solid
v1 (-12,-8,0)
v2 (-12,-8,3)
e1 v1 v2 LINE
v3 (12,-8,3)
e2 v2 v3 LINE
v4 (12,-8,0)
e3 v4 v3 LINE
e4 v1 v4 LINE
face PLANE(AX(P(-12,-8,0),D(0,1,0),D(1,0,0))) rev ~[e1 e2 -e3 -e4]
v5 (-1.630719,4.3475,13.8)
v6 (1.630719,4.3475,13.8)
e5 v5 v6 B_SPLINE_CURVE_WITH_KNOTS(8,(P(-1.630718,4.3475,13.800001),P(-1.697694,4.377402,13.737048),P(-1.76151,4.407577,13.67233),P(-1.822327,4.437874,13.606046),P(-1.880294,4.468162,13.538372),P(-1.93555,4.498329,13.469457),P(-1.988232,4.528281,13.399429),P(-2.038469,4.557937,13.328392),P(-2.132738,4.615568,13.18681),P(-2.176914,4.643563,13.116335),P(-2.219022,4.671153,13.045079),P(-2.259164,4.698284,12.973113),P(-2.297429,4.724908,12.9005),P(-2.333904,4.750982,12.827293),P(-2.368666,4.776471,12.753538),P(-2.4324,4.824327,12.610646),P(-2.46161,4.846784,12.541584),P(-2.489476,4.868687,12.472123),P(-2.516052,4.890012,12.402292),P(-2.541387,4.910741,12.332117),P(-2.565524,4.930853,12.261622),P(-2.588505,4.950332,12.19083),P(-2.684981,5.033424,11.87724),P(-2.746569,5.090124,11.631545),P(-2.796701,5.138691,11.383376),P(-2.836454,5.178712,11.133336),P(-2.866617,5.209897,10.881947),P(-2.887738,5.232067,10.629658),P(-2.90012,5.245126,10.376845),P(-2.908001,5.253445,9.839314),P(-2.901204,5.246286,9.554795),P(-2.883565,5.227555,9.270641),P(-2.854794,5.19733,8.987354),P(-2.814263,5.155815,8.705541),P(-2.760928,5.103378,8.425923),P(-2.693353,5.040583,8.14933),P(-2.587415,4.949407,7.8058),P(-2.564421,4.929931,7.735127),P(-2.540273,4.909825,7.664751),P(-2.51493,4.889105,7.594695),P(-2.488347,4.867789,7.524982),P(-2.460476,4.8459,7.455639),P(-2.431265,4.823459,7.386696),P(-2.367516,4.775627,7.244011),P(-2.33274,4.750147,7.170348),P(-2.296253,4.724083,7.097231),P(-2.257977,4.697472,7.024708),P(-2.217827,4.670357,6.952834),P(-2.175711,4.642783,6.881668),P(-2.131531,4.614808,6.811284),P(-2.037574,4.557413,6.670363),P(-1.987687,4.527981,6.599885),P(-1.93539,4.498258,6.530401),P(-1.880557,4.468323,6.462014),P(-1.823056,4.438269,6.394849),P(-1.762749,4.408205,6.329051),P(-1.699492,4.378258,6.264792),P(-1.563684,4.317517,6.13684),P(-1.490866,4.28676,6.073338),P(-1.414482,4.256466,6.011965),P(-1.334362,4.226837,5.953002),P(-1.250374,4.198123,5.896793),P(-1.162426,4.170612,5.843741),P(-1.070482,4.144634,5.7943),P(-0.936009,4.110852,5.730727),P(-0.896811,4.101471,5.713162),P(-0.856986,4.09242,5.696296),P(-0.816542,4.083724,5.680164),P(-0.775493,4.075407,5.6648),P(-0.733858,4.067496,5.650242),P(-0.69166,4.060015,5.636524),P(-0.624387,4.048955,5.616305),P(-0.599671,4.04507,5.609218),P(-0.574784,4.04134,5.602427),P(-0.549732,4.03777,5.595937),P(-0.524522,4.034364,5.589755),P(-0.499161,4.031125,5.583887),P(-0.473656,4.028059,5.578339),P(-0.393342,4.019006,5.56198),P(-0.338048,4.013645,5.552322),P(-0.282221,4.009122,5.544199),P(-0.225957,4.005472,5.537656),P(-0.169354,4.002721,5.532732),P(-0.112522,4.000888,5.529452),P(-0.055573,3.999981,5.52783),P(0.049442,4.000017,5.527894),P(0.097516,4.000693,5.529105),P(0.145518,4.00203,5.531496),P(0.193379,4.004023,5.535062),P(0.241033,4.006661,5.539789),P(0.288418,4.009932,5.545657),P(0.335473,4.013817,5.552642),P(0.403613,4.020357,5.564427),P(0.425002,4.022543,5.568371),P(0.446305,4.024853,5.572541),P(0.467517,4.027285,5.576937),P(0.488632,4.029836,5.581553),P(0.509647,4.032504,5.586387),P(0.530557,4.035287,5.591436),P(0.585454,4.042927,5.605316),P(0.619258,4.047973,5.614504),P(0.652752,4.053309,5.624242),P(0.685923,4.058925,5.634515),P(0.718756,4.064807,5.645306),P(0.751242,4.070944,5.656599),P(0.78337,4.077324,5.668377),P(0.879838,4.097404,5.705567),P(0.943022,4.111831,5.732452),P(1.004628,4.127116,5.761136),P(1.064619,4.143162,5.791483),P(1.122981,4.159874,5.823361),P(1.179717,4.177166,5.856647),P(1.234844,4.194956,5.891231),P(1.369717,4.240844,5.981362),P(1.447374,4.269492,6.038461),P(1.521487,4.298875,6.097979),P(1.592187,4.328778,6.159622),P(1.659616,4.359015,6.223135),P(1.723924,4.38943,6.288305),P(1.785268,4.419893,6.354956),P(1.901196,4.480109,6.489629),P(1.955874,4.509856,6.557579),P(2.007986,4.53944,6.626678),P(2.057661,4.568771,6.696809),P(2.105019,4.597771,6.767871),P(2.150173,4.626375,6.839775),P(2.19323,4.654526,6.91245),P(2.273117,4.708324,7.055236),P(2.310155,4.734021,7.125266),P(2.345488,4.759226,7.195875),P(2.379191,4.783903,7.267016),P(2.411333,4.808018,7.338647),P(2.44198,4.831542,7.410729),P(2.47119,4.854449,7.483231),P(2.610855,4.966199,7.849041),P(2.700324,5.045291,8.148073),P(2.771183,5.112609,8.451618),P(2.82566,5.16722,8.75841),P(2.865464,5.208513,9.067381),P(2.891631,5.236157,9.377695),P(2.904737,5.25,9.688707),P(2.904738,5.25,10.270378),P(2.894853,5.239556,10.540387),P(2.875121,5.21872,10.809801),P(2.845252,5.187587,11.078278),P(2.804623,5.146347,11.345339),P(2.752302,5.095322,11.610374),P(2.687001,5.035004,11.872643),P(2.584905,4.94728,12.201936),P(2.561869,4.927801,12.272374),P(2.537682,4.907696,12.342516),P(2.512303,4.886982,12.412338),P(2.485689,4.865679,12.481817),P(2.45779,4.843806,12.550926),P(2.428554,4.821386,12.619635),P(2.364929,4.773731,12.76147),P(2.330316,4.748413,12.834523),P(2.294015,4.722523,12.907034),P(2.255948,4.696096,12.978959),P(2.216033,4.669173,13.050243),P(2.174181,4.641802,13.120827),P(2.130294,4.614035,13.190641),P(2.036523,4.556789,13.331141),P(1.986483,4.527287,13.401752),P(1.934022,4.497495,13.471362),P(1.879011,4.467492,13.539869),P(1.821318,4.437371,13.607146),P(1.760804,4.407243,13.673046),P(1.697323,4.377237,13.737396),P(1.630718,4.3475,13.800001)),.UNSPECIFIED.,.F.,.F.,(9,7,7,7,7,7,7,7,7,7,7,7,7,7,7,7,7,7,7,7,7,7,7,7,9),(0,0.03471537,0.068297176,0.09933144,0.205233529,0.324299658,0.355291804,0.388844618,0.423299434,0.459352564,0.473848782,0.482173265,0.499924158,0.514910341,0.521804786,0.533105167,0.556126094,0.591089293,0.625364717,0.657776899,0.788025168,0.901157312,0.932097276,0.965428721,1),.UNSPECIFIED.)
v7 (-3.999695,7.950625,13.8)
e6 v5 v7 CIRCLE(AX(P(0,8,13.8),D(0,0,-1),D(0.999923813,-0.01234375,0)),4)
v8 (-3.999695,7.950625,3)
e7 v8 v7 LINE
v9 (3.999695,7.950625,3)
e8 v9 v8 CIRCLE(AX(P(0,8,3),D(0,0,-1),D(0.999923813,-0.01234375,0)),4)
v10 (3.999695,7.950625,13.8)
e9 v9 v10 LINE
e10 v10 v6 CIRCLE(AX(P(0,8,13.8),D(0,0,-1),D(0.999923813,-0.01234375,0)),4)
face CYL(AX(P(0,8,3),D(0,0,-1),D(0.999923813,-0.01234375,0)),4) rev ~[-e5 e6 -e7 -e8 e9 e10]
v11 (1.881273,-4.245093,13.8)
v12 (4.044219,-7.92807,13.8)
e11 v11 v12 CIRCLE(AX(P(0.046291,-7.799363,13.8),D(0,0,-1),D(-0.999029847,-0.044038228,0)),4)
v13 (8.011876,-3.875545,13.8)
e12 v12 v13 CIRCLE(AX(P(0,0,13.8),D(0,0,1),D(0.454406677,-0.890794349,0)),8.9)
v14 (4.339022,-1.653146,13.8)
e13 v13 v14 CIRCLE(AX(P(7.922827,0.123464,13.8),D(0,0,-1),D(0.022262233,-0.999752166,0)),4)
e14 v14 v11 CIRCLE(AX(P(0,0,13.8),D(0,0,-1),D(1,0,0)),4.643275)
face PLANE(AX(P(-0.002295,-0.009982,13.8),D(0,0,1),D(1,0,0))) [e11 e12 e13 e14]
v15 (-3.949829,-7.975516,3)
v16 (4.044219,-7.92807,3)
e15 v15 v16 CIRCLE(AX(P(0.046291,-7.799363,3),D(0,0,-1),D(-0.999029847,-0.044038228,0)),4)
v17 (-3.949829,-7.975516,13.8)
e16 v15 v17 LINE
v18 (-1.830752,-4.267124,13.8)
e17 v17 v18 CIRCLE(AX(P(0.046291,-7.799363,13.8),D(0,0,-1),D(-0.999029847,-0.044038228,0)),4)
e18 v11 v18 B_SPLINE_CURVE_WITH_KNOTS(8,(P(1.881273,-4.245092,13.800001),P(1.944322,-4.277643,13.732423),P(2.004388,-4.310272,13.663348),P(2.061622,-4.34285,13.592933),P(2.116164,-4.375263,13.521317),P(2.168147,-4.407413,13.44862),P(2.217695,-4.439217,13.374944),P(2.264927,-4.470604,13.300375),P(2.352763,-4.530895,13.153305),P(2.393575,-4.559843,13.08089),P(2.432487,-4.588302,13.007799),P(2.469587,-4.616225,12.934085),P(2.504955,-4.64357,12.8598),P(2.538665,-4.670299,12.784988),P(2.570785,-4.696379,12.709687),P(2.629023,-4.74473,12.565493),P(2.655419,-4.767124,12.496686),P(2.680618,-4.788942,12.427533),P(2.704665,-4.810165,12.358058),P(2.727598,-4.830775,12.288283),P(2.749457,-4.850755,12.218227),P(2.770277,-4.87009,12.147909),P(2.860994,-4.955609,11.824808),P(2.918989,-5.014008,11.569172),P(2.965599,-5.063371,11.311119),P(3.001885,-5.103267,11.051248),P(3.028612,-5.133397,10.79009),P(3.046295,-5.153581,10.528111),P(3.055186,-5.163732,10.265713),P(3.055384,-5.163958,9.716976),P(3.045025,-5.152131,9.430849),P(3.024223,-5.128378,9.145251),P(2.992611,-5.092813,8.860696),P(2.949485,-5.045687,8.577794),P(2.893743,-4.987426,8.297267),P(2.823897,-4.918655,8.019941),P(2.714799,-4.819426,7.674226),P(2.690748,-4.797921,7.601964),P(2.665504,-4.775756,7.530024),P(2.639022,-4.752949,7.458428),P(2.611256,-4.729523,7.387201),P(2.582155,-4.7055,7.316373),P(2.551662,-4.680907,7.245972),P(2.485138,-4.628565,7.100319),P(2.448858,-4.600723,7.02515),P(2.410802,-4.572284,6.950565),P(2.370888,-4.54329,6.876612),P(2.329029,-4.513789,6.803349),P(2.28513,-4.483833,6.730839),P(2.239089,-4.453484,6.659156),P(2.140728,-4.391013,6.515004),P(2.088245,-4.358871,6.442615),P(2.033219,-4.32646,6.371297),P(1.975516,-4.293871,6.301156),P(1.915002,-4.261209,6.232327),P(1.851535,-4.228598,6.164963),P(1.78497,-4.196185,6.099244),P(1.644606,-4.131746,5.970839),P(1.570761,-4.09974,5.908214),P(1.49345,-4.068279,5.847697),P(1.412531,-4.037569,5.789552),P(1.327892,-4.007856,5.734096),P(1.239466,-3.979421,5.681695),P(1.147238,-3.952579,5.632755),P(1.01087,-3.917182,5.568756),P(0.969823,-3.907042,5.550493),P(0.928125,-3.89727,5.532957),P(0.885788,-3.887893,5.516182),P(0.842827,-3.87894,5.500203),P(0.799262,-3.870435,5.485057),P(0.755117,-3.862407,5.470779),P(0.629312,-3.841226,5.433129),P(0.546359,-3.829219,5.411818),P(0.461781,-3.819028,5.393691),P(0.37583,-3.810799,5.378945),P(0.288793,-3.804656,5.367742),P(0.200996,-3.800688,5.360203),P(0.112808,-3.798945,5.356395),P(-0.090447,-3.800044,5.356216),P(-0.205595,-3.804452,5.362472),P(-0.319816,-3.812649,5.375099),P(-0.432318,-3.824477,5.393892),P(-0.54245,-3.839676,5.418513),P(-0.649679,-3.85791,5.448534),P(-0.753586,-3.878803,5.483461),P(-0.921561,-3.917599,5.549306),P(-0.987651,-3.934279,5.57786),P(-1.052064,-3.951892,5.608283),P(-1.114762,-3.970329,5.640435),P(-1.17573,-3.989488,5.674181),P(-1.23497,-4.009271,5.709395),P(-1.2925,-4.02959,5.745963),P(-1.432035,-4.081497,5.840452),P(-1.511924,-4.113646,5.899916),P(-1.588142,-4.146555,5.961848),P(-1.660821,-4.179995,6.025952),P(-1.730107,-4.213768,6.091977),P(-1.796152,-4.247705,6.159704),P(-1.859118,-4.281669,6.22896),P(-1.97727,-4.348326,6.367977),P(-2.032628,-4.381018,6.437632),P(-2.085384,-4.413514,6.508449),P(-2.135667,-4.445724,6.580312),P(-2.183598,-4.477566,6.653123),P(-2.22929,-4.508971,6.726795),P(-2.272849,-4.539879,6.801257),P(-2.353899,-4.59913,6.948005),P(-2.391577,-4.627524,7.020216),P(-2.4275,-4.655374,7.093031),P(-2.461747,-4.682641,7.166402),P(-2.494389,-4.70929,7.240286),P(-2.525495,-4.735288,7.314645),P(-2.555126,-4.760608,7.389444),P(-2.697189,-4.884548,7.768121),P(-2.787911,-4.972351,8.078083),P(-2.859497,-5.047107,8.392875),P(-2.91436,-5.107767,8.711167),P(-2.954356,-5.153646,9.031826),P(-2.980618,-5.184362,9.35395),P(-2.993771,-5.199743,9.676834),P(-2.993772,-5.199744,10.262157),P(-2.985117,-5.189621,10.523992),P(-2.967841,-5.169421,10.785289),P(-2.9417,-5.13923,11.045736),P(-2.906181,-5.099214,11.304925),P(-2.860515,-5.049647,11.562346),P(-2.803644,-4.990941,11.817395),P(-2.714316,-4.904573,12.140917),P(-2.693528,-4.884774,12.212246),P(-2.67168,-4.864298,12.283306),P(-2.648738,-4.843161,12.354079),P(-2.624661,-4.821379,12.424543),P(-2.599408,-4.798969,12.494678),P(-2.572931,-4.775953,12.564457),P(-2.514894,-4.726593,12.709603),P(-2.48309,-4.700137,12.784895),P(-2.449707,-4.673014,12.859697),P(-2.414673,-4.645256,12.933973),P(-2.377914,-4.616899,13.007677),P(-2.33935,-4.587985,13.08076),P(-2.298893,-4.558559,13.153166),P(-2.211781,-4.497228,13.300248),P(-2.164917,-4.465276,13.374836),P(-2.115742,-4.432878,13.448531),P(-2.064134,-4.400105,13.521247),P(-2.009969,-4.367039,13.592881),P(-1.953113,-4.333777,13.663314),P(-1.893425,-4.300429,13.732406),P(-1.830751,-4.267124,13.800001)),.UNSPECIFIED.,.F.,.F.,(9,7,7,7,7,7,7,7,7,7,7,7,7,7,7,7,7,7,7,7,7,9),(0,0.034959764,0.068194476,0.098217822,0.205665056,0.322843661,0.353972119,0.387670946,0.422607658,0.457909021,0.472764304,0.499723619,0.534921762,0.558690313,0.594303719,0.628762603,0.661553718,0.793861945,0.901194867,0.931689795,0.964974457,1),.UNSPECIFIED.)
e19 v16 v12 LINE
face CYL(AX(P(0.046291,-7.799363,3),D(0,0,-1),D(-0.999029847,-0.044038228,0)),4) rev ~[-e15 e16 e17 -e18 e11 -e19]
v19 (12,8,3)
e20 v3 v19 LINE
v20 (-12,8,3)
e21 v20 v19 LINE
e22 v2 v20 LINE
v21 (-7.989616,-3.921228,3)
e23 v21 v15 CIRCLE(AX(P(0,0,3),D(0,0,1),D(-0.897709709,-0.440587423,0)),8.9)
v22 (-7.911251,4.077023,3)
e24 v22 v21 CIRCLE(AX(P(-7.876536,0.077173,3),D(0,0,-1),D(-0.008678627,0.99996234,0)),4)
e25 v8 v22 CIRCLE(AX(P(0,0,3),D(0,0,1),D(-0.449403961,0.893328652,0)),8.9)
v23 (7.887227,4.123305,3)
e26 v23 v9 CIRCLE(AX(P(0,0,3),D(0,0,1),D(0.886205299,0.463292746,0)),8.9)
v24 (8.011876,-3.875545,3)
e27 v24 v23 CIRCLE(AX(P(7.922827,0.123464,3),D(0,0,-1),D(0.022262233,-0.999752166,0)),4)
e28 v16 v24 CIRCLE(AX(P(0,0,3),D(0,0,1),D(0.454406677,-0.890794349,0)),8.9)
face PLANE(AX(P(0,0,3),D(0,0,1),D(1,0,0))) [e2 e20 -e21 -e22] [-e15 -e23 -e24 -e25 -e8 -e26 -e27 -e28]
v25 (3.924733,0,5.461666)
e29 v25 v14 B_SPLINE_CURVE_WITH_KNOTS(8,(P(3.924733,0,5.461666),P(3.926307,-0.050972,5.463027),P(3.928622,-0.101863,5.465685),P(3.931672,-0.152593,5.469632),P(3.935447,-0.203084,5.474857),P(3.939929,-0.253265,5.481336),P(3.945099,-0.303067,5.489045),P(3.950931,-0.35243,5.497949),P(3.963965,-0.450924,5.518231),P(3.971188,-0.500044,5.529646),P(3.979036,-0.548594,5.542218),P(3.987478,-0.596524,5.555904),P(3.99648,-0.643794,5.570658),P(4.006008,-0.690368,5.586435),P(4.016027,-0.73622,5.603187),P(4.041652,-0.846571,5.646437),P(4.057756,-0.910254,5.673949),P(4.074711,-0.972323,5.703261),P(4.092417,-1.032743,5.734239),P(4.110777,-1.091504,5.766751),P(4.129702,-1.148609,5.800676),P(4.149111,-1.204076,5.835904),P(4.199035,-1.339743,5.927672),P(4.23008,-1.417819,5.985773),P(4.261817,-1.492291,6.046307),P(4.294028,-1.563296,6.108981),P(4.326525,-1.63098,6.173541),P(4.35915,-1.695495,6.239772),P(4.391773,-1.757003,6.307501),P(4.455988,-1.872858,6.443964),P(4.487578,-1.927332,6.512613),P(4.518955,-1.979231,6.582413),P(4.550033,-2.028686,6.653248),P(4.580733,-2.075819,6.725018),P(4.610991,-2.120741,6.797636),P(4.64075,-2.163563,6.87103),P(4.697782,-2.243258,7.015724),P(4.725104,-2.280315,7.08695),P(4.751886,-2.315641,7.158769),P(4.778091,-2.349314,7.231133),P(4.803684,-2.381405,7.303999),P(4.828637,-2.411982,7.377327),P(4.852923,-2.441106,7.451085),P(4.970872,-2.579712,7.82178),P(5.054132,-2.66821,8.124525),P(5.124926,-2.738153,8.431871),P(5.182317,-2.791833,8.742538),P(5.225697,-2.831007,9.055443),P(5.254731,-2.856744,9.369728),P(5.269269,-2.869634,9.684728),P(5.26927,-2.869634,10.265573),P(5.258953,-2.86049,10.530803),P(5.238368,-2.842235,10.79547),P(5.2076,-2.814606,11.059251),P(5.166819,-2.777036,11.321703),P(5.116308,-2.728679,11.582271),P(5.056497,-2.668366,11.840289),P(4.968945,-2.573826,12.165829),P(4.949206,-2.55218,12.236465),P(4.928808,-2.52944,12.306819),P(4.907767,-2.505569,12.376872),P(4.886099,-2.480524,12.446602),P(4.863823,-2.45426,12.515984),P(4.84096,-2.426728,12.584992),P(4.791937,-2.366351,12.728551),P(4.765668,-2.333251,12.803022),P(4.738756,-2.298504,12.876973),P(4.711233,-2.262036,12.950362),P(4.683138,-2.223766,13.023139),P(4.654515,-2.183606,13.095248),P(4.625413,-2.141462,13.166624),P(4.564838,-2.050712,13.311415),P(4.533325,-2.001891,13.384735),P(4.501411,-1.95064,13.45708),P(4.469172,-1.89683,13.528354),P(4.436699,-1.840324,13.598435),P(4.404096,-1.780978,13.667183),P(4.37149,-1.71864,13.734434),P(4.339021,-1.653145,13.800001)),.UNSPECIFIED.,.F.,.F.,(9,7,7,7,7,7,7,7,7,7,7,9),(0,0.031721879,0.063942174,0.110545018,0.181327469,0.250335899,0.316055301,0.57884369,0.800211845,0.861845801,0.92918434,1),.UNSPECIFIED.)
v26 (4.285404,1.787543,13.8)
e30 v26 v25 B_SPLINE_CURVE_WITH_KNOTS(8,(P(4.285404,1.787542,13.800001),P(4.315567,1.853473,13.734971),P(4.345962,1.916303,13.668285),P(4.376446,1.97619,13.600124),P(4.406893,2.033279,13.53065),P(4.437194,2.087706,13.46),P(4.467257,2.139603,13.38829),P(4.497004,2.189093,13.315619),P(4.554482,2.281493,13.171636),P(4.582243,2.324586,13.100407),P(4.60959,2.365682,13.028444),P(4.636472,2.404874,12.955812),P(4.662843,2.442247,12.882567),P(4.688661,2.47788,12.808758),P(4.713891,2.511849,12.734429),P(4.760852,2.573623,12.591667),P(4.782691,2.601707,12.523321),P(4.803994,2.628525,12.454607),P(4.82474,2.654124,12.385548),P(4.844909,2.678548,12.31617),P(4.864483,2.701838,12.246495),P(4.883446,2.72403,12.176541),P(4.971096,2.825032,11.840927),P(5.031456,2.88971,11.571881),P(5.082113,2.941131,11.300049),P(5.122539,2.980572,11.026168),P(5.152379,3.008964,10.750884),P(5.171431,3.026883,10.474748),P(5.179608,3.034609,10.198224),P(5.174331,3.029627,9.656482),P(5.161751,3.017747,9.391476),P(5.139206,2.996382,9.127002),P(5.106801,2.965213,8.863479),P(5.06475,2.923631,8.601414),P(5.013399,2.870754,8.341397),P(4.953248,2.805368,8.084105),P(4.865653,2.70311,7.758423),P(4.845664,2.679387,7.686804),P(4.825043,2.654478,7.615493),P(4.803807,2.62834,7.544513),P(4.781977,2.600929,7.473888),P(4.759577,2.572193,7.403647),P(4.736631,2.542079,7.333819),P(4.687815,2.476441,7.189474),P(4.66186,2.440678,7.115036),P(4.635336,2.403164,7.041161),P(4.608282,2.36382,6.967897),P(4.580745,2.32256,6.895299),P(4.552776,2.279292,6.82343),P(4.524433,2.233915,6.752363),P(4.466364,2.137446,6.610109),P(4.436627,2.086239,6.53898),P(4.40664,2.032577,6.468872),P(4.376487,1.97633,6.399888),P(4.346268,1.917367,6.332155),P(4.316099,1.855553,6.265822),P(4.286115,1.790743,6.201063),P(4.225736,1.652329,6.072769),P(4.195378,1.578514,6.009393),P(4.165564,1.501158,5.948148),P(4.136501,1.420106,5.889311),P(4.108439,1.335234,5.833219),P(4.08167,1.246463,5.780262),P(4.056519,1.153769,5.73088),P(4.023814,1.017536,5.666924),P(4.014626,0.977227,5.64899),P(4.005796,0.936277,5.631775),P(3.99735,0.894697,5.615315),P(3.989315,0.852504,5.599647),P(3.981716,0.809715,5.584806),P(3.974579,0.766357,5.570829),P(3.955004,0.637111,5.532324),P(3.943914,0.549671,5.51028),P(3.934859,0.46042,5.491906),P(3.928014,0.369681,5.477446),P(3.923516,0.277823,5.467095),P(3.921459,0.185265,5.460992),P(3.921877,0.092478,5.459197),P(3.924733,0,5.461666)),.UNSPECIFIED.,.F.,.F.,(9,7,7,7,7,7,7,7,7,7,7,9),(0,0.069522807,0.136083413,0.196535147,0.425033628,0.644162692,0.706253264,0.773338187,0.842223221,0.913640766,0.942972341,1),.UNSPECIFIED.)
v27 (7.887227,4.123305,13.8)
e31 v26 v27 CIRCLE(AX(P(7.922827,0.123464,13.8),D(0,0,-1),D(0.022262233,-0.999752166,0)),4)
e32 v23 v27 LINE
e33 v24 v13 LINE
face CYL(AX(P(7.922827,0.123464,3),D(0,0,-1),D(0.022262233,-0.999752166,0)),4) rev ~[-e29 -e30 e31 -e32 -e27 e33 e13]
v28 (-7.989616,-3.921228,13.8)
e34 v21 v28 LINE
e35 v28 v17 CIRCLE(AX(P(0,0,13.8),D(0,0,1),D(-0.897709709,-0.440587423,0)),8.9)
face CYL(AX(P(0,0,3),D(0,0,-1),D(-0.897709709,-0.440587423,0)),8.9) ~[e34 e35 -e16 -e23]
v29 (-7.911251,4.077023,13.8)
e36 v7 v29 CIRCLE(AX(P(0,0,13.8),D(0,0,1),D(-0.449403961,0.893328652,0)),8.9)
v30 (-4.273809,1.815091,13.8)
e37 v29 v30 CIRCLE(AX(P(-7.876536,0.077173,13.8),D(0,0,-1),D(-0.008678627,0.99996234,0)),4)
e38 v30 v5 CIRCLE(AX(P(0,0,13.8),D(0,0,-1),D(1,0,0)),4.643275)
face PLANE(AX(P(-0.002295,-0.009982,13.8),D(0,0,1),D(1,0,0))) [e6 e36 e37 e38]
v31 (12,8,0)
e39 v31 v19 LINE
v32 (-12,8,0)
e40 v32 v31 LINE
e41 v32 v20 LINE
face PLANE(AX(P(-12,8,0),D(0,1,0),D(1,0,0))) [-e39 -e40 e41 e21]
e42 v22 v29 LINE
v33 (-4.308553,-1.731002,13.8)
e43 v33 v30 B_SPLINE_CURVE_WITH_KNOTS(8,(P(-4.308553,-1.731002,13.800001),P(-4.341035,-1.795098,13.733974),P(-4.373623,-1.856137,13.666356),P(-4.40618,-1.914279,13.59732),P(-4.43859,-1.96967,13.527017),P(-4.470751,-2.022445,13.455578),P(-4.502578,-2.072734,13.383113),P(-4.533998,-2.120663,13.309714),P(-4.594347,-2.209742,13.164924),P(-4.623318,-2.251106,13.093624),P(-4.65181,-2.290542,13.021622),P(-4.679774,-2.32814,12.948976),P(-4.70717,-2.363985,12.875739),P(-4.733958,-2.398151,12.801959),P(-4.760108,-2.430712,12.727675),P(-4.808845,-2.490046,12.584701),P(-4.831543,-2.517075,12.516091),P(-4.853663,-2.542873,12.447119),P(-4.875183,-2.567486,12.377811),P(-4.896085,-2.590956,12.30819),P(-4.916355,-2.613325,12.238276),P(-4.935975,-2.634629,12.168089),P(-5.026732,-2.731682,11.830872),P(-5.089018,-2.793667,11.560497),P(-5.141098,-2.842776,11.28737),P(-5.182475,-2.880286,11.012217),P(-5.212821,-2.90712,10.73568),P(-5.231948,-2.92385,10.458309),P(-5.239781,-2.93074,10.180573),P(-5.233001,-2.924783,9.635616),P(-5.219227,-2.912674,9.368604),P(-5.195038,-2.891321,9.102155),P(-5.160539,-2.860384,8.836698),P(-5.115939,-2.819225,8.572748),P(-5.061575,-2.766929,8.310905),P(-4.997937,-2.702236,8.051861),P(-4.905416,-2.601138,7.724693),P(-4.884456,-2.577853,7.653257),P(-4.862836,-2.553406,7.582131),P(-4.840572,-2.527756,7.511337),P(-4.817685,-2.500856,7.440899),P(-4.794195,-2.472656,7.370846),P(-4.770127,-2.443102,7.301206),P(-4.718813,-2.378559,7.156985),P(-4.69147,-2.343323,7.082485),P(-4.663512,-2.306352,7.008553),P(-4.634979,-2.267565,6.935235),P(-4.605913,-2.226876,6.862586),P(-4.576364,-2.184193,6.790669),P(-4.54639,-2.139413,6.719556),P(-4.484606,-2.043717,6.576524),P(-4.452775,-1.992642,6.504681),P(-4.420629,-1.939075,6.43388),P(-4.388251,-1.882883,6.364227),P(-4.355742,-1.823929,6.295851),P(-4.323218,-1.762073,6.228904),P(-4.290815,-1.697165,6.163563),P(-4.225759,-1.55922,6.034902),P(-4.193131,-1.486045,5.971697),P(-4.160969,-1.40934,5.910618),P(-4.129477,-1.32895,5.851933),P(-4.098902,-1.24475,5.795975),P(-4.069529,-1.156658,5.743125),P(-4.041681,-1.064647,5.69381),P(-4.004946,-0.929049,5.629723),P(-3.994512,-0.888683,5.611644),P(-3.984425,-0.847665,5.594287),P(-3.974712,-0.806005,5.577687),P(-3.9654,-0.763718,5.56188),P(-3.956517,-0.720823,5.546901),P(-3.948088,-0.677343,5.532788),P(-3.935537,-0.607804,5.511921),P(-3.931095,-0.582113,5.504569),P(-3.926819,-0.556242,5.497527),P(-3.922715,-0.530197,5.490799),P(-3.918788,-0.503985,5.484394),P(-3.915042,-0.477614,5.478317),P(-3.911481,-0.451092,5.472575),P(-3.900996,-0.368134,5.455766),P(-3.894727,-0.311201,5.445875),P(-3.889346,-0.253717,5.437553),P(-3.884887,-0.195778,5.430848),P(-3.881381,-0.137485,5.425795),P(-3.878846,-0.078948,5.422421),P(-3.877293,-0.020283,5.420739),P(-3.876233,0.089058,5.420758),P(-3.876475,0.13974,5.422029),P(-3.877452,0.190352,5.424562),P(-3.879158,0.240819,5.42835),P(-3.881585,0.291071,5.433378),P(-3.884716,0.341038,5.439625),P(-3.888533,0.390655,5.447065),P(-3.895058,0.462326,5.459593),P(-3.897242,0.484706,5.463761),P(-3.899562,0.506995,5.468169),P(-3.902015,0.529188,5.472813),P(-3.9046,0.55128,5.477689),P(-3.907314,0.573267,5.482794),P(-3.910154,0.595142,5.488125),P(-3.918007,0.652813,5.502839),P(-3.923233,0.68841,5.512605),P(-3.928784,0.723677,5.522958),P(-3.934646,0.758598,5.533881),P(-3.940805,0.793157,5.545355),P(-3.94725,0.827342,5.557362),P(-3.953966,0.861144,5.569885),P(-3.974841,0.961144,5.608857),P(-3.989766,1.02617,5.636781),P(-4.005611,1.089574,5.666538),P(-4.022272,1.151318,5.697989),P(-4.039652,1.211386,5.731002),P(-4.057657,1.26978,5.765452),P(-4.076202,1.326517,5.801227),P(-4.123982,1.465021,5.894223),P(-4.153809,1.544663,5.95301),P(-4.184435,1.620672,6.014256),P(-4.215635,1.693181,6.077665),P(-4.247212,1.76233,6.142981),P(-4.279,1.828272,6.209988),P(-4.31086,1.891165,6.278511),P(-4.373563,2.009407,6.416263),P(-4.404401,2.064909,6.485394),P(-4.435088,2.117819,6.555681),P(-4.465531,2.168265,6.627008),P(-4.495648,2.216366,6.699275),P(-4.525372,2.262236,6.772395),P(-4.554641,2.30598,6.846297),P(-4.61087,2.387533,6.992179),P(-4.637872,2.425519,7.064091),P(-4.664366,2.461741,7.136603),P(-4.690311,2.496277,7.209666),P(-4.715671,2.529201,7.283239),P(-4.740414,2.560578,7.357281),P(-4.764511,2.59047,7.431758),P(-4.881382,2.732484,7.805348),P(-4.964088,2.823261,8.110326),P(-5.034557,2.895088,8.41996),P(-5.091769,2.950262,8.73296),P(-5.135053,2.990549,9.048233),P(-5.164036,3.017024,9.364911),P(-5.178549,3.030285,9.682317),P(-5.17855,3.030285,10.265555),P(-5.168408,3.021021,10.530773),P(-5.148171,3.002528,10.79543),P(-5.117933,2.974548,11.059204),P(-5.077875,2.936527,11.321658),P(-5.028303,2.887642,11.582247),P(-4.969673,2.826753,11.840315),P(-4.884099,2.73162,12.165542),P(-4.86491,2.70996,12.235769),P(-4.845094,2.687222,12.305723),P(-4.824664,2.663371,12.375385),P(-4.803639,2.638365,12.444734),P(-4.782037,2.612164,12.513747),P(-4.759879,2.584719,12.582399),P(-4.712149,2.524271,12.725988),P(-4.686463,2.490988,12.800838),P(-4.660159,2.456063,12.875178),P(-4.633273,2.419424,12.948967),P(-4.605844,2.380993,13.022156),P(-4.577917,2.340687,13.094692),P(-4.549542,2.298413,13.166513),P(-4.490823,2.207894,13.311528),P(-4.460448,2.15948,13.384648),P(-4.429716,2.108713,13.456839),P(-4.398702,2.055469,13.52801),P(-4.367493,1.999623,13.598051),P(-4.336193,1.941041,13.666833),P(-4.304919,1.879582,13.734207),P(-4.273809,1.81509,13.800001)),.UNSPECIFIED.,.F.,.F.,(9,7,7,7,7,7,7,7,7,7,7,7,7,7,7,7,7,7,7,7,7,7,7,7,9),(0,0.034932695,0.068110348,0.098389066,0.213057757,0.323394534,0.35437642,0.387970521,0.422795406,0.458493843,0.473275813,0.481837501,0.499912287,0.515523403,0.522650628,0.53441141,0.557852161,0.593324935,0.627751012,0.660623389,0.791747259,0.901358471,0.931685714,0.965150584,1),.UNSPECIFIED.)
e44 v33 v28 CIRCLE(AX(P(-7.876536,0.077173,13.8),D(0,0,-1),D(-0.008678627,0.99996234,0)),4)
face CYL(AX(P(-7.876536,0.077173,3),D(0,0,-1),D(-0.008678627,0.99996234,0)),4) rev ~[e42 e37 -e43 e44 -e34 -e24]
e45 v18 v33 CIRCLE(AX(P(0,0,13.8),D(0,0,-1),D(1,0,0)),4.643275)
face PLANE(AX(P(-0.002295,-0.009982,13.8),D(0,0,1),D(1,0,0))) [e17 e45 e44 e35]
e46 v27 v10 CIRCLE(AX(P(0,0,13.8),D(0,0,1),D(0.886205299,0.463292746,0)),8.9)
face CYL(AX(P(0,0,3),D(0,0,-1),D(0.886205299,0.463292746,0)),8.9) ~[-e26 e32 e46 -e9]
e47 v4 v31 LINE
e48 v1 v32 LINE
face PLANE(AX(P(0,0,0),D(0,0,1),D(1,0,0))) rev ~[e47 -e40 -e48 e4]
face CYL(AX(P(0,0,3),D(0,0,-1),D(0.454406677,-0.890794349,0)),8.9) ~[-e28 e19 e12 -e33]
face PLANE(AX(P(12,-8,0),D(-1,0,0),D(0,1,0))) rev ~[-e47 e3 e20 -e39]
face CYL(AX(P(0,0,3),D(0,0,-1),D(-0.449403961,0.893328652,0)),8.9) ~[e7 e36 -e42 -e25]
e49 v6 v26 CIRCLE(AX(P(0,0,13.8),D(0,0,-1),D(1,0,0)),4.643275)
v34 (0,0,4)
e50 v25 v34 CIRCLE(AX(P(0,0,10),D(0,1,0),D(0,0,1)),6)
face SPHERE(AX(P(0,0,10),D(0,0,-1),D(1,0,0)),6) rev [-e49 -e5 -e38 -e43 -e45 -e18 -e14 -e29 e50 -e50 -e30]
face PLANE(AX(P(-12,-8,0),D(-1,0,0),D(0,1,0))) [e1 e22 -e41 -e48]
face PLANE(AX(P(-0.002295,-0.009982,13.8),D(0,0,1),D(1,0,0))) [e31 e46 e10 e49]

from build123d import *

# Parameters (mm, degrees)
SKIZZE1_W                       = 24
SKIZZE1_H                       = 16
AUFSATZ_LINEAR_AUSTRAGEN1_DEPTH = 3
AUFSATZ_LINEAR_AUSTRAGEN2_DEPTH = 10.8


with BuildPart() as part:
    # Skizze1 → Aufsatz-Linear austragen1 (new body)
    with BuildSketch(Plane.XY):
        Rectangle(SKIZZE1_W, SKIZZE1_H)
    extrude(amount=AUFSATZ_LINEAR_AUSTRAGEN1_DEPTH)

    # Skizze2 → Aufsatz-Linear austragen2 (add)
    with BuildSketch(Plane.XY.offset(3)):
        with BuildLine():
            ThreePointArc((-3.999695252, 7.950625), (-6.26249607, 6.323855072), (-7.911250653, 4.077022578))
            ThreePointArc((-7.911250653, 4.077022578), (-3.876728126, 0.037983649), (-7.989616413, -3.92122807))
            ThreePointArc((-7.989616413, -3.92122807), (-6.304514257, -6.281966252), (-3.949828748, -7.975515837))
            ThreePointArc((-3.949828748, -7.975515837), (0.022550329, -3.799433377), (4.044219423, -7.928069706))
            ThreePointArc((4.044219423, -7.928069706), (6.359488738, -6.226307332), (8.011875714, -3.875544807))
            ThreePointArc((8.011875714, -3.875544807), (3.923312373, 0.061138188), (7.88722716, 4.123305437))
            ThreePointArc((7.88722716, 4.123305437), (6.243943055, 6.342174322), (3.999695252, 7.950625))
            ThreePointArc((3.999695252, 7.950625), (0, 4), (-3.999695252, 7.950625))
        make_face()
    extrude(amount=AUFSATZ_LINEAR_AUSTRAGEN2_DEPTH)

    # Skizze3 → Schnitt-Rotation1 (revolve, cut)
    with BuildSketch(Plane(origin=(0, 0, 0), x_dir=(1, 0, 0), z_dir=(0, 1, 0))):
        with BuildLine():
            Line((0, -4), (0, -16))
            ThreePointArc((0, -16), (6, -10), (0, -4))
        make_face()
    revolve(axis=Axis((0, 0, 4), (0, 0, 1)), mode=Mode.SUBTRACT)


solid = part.part
